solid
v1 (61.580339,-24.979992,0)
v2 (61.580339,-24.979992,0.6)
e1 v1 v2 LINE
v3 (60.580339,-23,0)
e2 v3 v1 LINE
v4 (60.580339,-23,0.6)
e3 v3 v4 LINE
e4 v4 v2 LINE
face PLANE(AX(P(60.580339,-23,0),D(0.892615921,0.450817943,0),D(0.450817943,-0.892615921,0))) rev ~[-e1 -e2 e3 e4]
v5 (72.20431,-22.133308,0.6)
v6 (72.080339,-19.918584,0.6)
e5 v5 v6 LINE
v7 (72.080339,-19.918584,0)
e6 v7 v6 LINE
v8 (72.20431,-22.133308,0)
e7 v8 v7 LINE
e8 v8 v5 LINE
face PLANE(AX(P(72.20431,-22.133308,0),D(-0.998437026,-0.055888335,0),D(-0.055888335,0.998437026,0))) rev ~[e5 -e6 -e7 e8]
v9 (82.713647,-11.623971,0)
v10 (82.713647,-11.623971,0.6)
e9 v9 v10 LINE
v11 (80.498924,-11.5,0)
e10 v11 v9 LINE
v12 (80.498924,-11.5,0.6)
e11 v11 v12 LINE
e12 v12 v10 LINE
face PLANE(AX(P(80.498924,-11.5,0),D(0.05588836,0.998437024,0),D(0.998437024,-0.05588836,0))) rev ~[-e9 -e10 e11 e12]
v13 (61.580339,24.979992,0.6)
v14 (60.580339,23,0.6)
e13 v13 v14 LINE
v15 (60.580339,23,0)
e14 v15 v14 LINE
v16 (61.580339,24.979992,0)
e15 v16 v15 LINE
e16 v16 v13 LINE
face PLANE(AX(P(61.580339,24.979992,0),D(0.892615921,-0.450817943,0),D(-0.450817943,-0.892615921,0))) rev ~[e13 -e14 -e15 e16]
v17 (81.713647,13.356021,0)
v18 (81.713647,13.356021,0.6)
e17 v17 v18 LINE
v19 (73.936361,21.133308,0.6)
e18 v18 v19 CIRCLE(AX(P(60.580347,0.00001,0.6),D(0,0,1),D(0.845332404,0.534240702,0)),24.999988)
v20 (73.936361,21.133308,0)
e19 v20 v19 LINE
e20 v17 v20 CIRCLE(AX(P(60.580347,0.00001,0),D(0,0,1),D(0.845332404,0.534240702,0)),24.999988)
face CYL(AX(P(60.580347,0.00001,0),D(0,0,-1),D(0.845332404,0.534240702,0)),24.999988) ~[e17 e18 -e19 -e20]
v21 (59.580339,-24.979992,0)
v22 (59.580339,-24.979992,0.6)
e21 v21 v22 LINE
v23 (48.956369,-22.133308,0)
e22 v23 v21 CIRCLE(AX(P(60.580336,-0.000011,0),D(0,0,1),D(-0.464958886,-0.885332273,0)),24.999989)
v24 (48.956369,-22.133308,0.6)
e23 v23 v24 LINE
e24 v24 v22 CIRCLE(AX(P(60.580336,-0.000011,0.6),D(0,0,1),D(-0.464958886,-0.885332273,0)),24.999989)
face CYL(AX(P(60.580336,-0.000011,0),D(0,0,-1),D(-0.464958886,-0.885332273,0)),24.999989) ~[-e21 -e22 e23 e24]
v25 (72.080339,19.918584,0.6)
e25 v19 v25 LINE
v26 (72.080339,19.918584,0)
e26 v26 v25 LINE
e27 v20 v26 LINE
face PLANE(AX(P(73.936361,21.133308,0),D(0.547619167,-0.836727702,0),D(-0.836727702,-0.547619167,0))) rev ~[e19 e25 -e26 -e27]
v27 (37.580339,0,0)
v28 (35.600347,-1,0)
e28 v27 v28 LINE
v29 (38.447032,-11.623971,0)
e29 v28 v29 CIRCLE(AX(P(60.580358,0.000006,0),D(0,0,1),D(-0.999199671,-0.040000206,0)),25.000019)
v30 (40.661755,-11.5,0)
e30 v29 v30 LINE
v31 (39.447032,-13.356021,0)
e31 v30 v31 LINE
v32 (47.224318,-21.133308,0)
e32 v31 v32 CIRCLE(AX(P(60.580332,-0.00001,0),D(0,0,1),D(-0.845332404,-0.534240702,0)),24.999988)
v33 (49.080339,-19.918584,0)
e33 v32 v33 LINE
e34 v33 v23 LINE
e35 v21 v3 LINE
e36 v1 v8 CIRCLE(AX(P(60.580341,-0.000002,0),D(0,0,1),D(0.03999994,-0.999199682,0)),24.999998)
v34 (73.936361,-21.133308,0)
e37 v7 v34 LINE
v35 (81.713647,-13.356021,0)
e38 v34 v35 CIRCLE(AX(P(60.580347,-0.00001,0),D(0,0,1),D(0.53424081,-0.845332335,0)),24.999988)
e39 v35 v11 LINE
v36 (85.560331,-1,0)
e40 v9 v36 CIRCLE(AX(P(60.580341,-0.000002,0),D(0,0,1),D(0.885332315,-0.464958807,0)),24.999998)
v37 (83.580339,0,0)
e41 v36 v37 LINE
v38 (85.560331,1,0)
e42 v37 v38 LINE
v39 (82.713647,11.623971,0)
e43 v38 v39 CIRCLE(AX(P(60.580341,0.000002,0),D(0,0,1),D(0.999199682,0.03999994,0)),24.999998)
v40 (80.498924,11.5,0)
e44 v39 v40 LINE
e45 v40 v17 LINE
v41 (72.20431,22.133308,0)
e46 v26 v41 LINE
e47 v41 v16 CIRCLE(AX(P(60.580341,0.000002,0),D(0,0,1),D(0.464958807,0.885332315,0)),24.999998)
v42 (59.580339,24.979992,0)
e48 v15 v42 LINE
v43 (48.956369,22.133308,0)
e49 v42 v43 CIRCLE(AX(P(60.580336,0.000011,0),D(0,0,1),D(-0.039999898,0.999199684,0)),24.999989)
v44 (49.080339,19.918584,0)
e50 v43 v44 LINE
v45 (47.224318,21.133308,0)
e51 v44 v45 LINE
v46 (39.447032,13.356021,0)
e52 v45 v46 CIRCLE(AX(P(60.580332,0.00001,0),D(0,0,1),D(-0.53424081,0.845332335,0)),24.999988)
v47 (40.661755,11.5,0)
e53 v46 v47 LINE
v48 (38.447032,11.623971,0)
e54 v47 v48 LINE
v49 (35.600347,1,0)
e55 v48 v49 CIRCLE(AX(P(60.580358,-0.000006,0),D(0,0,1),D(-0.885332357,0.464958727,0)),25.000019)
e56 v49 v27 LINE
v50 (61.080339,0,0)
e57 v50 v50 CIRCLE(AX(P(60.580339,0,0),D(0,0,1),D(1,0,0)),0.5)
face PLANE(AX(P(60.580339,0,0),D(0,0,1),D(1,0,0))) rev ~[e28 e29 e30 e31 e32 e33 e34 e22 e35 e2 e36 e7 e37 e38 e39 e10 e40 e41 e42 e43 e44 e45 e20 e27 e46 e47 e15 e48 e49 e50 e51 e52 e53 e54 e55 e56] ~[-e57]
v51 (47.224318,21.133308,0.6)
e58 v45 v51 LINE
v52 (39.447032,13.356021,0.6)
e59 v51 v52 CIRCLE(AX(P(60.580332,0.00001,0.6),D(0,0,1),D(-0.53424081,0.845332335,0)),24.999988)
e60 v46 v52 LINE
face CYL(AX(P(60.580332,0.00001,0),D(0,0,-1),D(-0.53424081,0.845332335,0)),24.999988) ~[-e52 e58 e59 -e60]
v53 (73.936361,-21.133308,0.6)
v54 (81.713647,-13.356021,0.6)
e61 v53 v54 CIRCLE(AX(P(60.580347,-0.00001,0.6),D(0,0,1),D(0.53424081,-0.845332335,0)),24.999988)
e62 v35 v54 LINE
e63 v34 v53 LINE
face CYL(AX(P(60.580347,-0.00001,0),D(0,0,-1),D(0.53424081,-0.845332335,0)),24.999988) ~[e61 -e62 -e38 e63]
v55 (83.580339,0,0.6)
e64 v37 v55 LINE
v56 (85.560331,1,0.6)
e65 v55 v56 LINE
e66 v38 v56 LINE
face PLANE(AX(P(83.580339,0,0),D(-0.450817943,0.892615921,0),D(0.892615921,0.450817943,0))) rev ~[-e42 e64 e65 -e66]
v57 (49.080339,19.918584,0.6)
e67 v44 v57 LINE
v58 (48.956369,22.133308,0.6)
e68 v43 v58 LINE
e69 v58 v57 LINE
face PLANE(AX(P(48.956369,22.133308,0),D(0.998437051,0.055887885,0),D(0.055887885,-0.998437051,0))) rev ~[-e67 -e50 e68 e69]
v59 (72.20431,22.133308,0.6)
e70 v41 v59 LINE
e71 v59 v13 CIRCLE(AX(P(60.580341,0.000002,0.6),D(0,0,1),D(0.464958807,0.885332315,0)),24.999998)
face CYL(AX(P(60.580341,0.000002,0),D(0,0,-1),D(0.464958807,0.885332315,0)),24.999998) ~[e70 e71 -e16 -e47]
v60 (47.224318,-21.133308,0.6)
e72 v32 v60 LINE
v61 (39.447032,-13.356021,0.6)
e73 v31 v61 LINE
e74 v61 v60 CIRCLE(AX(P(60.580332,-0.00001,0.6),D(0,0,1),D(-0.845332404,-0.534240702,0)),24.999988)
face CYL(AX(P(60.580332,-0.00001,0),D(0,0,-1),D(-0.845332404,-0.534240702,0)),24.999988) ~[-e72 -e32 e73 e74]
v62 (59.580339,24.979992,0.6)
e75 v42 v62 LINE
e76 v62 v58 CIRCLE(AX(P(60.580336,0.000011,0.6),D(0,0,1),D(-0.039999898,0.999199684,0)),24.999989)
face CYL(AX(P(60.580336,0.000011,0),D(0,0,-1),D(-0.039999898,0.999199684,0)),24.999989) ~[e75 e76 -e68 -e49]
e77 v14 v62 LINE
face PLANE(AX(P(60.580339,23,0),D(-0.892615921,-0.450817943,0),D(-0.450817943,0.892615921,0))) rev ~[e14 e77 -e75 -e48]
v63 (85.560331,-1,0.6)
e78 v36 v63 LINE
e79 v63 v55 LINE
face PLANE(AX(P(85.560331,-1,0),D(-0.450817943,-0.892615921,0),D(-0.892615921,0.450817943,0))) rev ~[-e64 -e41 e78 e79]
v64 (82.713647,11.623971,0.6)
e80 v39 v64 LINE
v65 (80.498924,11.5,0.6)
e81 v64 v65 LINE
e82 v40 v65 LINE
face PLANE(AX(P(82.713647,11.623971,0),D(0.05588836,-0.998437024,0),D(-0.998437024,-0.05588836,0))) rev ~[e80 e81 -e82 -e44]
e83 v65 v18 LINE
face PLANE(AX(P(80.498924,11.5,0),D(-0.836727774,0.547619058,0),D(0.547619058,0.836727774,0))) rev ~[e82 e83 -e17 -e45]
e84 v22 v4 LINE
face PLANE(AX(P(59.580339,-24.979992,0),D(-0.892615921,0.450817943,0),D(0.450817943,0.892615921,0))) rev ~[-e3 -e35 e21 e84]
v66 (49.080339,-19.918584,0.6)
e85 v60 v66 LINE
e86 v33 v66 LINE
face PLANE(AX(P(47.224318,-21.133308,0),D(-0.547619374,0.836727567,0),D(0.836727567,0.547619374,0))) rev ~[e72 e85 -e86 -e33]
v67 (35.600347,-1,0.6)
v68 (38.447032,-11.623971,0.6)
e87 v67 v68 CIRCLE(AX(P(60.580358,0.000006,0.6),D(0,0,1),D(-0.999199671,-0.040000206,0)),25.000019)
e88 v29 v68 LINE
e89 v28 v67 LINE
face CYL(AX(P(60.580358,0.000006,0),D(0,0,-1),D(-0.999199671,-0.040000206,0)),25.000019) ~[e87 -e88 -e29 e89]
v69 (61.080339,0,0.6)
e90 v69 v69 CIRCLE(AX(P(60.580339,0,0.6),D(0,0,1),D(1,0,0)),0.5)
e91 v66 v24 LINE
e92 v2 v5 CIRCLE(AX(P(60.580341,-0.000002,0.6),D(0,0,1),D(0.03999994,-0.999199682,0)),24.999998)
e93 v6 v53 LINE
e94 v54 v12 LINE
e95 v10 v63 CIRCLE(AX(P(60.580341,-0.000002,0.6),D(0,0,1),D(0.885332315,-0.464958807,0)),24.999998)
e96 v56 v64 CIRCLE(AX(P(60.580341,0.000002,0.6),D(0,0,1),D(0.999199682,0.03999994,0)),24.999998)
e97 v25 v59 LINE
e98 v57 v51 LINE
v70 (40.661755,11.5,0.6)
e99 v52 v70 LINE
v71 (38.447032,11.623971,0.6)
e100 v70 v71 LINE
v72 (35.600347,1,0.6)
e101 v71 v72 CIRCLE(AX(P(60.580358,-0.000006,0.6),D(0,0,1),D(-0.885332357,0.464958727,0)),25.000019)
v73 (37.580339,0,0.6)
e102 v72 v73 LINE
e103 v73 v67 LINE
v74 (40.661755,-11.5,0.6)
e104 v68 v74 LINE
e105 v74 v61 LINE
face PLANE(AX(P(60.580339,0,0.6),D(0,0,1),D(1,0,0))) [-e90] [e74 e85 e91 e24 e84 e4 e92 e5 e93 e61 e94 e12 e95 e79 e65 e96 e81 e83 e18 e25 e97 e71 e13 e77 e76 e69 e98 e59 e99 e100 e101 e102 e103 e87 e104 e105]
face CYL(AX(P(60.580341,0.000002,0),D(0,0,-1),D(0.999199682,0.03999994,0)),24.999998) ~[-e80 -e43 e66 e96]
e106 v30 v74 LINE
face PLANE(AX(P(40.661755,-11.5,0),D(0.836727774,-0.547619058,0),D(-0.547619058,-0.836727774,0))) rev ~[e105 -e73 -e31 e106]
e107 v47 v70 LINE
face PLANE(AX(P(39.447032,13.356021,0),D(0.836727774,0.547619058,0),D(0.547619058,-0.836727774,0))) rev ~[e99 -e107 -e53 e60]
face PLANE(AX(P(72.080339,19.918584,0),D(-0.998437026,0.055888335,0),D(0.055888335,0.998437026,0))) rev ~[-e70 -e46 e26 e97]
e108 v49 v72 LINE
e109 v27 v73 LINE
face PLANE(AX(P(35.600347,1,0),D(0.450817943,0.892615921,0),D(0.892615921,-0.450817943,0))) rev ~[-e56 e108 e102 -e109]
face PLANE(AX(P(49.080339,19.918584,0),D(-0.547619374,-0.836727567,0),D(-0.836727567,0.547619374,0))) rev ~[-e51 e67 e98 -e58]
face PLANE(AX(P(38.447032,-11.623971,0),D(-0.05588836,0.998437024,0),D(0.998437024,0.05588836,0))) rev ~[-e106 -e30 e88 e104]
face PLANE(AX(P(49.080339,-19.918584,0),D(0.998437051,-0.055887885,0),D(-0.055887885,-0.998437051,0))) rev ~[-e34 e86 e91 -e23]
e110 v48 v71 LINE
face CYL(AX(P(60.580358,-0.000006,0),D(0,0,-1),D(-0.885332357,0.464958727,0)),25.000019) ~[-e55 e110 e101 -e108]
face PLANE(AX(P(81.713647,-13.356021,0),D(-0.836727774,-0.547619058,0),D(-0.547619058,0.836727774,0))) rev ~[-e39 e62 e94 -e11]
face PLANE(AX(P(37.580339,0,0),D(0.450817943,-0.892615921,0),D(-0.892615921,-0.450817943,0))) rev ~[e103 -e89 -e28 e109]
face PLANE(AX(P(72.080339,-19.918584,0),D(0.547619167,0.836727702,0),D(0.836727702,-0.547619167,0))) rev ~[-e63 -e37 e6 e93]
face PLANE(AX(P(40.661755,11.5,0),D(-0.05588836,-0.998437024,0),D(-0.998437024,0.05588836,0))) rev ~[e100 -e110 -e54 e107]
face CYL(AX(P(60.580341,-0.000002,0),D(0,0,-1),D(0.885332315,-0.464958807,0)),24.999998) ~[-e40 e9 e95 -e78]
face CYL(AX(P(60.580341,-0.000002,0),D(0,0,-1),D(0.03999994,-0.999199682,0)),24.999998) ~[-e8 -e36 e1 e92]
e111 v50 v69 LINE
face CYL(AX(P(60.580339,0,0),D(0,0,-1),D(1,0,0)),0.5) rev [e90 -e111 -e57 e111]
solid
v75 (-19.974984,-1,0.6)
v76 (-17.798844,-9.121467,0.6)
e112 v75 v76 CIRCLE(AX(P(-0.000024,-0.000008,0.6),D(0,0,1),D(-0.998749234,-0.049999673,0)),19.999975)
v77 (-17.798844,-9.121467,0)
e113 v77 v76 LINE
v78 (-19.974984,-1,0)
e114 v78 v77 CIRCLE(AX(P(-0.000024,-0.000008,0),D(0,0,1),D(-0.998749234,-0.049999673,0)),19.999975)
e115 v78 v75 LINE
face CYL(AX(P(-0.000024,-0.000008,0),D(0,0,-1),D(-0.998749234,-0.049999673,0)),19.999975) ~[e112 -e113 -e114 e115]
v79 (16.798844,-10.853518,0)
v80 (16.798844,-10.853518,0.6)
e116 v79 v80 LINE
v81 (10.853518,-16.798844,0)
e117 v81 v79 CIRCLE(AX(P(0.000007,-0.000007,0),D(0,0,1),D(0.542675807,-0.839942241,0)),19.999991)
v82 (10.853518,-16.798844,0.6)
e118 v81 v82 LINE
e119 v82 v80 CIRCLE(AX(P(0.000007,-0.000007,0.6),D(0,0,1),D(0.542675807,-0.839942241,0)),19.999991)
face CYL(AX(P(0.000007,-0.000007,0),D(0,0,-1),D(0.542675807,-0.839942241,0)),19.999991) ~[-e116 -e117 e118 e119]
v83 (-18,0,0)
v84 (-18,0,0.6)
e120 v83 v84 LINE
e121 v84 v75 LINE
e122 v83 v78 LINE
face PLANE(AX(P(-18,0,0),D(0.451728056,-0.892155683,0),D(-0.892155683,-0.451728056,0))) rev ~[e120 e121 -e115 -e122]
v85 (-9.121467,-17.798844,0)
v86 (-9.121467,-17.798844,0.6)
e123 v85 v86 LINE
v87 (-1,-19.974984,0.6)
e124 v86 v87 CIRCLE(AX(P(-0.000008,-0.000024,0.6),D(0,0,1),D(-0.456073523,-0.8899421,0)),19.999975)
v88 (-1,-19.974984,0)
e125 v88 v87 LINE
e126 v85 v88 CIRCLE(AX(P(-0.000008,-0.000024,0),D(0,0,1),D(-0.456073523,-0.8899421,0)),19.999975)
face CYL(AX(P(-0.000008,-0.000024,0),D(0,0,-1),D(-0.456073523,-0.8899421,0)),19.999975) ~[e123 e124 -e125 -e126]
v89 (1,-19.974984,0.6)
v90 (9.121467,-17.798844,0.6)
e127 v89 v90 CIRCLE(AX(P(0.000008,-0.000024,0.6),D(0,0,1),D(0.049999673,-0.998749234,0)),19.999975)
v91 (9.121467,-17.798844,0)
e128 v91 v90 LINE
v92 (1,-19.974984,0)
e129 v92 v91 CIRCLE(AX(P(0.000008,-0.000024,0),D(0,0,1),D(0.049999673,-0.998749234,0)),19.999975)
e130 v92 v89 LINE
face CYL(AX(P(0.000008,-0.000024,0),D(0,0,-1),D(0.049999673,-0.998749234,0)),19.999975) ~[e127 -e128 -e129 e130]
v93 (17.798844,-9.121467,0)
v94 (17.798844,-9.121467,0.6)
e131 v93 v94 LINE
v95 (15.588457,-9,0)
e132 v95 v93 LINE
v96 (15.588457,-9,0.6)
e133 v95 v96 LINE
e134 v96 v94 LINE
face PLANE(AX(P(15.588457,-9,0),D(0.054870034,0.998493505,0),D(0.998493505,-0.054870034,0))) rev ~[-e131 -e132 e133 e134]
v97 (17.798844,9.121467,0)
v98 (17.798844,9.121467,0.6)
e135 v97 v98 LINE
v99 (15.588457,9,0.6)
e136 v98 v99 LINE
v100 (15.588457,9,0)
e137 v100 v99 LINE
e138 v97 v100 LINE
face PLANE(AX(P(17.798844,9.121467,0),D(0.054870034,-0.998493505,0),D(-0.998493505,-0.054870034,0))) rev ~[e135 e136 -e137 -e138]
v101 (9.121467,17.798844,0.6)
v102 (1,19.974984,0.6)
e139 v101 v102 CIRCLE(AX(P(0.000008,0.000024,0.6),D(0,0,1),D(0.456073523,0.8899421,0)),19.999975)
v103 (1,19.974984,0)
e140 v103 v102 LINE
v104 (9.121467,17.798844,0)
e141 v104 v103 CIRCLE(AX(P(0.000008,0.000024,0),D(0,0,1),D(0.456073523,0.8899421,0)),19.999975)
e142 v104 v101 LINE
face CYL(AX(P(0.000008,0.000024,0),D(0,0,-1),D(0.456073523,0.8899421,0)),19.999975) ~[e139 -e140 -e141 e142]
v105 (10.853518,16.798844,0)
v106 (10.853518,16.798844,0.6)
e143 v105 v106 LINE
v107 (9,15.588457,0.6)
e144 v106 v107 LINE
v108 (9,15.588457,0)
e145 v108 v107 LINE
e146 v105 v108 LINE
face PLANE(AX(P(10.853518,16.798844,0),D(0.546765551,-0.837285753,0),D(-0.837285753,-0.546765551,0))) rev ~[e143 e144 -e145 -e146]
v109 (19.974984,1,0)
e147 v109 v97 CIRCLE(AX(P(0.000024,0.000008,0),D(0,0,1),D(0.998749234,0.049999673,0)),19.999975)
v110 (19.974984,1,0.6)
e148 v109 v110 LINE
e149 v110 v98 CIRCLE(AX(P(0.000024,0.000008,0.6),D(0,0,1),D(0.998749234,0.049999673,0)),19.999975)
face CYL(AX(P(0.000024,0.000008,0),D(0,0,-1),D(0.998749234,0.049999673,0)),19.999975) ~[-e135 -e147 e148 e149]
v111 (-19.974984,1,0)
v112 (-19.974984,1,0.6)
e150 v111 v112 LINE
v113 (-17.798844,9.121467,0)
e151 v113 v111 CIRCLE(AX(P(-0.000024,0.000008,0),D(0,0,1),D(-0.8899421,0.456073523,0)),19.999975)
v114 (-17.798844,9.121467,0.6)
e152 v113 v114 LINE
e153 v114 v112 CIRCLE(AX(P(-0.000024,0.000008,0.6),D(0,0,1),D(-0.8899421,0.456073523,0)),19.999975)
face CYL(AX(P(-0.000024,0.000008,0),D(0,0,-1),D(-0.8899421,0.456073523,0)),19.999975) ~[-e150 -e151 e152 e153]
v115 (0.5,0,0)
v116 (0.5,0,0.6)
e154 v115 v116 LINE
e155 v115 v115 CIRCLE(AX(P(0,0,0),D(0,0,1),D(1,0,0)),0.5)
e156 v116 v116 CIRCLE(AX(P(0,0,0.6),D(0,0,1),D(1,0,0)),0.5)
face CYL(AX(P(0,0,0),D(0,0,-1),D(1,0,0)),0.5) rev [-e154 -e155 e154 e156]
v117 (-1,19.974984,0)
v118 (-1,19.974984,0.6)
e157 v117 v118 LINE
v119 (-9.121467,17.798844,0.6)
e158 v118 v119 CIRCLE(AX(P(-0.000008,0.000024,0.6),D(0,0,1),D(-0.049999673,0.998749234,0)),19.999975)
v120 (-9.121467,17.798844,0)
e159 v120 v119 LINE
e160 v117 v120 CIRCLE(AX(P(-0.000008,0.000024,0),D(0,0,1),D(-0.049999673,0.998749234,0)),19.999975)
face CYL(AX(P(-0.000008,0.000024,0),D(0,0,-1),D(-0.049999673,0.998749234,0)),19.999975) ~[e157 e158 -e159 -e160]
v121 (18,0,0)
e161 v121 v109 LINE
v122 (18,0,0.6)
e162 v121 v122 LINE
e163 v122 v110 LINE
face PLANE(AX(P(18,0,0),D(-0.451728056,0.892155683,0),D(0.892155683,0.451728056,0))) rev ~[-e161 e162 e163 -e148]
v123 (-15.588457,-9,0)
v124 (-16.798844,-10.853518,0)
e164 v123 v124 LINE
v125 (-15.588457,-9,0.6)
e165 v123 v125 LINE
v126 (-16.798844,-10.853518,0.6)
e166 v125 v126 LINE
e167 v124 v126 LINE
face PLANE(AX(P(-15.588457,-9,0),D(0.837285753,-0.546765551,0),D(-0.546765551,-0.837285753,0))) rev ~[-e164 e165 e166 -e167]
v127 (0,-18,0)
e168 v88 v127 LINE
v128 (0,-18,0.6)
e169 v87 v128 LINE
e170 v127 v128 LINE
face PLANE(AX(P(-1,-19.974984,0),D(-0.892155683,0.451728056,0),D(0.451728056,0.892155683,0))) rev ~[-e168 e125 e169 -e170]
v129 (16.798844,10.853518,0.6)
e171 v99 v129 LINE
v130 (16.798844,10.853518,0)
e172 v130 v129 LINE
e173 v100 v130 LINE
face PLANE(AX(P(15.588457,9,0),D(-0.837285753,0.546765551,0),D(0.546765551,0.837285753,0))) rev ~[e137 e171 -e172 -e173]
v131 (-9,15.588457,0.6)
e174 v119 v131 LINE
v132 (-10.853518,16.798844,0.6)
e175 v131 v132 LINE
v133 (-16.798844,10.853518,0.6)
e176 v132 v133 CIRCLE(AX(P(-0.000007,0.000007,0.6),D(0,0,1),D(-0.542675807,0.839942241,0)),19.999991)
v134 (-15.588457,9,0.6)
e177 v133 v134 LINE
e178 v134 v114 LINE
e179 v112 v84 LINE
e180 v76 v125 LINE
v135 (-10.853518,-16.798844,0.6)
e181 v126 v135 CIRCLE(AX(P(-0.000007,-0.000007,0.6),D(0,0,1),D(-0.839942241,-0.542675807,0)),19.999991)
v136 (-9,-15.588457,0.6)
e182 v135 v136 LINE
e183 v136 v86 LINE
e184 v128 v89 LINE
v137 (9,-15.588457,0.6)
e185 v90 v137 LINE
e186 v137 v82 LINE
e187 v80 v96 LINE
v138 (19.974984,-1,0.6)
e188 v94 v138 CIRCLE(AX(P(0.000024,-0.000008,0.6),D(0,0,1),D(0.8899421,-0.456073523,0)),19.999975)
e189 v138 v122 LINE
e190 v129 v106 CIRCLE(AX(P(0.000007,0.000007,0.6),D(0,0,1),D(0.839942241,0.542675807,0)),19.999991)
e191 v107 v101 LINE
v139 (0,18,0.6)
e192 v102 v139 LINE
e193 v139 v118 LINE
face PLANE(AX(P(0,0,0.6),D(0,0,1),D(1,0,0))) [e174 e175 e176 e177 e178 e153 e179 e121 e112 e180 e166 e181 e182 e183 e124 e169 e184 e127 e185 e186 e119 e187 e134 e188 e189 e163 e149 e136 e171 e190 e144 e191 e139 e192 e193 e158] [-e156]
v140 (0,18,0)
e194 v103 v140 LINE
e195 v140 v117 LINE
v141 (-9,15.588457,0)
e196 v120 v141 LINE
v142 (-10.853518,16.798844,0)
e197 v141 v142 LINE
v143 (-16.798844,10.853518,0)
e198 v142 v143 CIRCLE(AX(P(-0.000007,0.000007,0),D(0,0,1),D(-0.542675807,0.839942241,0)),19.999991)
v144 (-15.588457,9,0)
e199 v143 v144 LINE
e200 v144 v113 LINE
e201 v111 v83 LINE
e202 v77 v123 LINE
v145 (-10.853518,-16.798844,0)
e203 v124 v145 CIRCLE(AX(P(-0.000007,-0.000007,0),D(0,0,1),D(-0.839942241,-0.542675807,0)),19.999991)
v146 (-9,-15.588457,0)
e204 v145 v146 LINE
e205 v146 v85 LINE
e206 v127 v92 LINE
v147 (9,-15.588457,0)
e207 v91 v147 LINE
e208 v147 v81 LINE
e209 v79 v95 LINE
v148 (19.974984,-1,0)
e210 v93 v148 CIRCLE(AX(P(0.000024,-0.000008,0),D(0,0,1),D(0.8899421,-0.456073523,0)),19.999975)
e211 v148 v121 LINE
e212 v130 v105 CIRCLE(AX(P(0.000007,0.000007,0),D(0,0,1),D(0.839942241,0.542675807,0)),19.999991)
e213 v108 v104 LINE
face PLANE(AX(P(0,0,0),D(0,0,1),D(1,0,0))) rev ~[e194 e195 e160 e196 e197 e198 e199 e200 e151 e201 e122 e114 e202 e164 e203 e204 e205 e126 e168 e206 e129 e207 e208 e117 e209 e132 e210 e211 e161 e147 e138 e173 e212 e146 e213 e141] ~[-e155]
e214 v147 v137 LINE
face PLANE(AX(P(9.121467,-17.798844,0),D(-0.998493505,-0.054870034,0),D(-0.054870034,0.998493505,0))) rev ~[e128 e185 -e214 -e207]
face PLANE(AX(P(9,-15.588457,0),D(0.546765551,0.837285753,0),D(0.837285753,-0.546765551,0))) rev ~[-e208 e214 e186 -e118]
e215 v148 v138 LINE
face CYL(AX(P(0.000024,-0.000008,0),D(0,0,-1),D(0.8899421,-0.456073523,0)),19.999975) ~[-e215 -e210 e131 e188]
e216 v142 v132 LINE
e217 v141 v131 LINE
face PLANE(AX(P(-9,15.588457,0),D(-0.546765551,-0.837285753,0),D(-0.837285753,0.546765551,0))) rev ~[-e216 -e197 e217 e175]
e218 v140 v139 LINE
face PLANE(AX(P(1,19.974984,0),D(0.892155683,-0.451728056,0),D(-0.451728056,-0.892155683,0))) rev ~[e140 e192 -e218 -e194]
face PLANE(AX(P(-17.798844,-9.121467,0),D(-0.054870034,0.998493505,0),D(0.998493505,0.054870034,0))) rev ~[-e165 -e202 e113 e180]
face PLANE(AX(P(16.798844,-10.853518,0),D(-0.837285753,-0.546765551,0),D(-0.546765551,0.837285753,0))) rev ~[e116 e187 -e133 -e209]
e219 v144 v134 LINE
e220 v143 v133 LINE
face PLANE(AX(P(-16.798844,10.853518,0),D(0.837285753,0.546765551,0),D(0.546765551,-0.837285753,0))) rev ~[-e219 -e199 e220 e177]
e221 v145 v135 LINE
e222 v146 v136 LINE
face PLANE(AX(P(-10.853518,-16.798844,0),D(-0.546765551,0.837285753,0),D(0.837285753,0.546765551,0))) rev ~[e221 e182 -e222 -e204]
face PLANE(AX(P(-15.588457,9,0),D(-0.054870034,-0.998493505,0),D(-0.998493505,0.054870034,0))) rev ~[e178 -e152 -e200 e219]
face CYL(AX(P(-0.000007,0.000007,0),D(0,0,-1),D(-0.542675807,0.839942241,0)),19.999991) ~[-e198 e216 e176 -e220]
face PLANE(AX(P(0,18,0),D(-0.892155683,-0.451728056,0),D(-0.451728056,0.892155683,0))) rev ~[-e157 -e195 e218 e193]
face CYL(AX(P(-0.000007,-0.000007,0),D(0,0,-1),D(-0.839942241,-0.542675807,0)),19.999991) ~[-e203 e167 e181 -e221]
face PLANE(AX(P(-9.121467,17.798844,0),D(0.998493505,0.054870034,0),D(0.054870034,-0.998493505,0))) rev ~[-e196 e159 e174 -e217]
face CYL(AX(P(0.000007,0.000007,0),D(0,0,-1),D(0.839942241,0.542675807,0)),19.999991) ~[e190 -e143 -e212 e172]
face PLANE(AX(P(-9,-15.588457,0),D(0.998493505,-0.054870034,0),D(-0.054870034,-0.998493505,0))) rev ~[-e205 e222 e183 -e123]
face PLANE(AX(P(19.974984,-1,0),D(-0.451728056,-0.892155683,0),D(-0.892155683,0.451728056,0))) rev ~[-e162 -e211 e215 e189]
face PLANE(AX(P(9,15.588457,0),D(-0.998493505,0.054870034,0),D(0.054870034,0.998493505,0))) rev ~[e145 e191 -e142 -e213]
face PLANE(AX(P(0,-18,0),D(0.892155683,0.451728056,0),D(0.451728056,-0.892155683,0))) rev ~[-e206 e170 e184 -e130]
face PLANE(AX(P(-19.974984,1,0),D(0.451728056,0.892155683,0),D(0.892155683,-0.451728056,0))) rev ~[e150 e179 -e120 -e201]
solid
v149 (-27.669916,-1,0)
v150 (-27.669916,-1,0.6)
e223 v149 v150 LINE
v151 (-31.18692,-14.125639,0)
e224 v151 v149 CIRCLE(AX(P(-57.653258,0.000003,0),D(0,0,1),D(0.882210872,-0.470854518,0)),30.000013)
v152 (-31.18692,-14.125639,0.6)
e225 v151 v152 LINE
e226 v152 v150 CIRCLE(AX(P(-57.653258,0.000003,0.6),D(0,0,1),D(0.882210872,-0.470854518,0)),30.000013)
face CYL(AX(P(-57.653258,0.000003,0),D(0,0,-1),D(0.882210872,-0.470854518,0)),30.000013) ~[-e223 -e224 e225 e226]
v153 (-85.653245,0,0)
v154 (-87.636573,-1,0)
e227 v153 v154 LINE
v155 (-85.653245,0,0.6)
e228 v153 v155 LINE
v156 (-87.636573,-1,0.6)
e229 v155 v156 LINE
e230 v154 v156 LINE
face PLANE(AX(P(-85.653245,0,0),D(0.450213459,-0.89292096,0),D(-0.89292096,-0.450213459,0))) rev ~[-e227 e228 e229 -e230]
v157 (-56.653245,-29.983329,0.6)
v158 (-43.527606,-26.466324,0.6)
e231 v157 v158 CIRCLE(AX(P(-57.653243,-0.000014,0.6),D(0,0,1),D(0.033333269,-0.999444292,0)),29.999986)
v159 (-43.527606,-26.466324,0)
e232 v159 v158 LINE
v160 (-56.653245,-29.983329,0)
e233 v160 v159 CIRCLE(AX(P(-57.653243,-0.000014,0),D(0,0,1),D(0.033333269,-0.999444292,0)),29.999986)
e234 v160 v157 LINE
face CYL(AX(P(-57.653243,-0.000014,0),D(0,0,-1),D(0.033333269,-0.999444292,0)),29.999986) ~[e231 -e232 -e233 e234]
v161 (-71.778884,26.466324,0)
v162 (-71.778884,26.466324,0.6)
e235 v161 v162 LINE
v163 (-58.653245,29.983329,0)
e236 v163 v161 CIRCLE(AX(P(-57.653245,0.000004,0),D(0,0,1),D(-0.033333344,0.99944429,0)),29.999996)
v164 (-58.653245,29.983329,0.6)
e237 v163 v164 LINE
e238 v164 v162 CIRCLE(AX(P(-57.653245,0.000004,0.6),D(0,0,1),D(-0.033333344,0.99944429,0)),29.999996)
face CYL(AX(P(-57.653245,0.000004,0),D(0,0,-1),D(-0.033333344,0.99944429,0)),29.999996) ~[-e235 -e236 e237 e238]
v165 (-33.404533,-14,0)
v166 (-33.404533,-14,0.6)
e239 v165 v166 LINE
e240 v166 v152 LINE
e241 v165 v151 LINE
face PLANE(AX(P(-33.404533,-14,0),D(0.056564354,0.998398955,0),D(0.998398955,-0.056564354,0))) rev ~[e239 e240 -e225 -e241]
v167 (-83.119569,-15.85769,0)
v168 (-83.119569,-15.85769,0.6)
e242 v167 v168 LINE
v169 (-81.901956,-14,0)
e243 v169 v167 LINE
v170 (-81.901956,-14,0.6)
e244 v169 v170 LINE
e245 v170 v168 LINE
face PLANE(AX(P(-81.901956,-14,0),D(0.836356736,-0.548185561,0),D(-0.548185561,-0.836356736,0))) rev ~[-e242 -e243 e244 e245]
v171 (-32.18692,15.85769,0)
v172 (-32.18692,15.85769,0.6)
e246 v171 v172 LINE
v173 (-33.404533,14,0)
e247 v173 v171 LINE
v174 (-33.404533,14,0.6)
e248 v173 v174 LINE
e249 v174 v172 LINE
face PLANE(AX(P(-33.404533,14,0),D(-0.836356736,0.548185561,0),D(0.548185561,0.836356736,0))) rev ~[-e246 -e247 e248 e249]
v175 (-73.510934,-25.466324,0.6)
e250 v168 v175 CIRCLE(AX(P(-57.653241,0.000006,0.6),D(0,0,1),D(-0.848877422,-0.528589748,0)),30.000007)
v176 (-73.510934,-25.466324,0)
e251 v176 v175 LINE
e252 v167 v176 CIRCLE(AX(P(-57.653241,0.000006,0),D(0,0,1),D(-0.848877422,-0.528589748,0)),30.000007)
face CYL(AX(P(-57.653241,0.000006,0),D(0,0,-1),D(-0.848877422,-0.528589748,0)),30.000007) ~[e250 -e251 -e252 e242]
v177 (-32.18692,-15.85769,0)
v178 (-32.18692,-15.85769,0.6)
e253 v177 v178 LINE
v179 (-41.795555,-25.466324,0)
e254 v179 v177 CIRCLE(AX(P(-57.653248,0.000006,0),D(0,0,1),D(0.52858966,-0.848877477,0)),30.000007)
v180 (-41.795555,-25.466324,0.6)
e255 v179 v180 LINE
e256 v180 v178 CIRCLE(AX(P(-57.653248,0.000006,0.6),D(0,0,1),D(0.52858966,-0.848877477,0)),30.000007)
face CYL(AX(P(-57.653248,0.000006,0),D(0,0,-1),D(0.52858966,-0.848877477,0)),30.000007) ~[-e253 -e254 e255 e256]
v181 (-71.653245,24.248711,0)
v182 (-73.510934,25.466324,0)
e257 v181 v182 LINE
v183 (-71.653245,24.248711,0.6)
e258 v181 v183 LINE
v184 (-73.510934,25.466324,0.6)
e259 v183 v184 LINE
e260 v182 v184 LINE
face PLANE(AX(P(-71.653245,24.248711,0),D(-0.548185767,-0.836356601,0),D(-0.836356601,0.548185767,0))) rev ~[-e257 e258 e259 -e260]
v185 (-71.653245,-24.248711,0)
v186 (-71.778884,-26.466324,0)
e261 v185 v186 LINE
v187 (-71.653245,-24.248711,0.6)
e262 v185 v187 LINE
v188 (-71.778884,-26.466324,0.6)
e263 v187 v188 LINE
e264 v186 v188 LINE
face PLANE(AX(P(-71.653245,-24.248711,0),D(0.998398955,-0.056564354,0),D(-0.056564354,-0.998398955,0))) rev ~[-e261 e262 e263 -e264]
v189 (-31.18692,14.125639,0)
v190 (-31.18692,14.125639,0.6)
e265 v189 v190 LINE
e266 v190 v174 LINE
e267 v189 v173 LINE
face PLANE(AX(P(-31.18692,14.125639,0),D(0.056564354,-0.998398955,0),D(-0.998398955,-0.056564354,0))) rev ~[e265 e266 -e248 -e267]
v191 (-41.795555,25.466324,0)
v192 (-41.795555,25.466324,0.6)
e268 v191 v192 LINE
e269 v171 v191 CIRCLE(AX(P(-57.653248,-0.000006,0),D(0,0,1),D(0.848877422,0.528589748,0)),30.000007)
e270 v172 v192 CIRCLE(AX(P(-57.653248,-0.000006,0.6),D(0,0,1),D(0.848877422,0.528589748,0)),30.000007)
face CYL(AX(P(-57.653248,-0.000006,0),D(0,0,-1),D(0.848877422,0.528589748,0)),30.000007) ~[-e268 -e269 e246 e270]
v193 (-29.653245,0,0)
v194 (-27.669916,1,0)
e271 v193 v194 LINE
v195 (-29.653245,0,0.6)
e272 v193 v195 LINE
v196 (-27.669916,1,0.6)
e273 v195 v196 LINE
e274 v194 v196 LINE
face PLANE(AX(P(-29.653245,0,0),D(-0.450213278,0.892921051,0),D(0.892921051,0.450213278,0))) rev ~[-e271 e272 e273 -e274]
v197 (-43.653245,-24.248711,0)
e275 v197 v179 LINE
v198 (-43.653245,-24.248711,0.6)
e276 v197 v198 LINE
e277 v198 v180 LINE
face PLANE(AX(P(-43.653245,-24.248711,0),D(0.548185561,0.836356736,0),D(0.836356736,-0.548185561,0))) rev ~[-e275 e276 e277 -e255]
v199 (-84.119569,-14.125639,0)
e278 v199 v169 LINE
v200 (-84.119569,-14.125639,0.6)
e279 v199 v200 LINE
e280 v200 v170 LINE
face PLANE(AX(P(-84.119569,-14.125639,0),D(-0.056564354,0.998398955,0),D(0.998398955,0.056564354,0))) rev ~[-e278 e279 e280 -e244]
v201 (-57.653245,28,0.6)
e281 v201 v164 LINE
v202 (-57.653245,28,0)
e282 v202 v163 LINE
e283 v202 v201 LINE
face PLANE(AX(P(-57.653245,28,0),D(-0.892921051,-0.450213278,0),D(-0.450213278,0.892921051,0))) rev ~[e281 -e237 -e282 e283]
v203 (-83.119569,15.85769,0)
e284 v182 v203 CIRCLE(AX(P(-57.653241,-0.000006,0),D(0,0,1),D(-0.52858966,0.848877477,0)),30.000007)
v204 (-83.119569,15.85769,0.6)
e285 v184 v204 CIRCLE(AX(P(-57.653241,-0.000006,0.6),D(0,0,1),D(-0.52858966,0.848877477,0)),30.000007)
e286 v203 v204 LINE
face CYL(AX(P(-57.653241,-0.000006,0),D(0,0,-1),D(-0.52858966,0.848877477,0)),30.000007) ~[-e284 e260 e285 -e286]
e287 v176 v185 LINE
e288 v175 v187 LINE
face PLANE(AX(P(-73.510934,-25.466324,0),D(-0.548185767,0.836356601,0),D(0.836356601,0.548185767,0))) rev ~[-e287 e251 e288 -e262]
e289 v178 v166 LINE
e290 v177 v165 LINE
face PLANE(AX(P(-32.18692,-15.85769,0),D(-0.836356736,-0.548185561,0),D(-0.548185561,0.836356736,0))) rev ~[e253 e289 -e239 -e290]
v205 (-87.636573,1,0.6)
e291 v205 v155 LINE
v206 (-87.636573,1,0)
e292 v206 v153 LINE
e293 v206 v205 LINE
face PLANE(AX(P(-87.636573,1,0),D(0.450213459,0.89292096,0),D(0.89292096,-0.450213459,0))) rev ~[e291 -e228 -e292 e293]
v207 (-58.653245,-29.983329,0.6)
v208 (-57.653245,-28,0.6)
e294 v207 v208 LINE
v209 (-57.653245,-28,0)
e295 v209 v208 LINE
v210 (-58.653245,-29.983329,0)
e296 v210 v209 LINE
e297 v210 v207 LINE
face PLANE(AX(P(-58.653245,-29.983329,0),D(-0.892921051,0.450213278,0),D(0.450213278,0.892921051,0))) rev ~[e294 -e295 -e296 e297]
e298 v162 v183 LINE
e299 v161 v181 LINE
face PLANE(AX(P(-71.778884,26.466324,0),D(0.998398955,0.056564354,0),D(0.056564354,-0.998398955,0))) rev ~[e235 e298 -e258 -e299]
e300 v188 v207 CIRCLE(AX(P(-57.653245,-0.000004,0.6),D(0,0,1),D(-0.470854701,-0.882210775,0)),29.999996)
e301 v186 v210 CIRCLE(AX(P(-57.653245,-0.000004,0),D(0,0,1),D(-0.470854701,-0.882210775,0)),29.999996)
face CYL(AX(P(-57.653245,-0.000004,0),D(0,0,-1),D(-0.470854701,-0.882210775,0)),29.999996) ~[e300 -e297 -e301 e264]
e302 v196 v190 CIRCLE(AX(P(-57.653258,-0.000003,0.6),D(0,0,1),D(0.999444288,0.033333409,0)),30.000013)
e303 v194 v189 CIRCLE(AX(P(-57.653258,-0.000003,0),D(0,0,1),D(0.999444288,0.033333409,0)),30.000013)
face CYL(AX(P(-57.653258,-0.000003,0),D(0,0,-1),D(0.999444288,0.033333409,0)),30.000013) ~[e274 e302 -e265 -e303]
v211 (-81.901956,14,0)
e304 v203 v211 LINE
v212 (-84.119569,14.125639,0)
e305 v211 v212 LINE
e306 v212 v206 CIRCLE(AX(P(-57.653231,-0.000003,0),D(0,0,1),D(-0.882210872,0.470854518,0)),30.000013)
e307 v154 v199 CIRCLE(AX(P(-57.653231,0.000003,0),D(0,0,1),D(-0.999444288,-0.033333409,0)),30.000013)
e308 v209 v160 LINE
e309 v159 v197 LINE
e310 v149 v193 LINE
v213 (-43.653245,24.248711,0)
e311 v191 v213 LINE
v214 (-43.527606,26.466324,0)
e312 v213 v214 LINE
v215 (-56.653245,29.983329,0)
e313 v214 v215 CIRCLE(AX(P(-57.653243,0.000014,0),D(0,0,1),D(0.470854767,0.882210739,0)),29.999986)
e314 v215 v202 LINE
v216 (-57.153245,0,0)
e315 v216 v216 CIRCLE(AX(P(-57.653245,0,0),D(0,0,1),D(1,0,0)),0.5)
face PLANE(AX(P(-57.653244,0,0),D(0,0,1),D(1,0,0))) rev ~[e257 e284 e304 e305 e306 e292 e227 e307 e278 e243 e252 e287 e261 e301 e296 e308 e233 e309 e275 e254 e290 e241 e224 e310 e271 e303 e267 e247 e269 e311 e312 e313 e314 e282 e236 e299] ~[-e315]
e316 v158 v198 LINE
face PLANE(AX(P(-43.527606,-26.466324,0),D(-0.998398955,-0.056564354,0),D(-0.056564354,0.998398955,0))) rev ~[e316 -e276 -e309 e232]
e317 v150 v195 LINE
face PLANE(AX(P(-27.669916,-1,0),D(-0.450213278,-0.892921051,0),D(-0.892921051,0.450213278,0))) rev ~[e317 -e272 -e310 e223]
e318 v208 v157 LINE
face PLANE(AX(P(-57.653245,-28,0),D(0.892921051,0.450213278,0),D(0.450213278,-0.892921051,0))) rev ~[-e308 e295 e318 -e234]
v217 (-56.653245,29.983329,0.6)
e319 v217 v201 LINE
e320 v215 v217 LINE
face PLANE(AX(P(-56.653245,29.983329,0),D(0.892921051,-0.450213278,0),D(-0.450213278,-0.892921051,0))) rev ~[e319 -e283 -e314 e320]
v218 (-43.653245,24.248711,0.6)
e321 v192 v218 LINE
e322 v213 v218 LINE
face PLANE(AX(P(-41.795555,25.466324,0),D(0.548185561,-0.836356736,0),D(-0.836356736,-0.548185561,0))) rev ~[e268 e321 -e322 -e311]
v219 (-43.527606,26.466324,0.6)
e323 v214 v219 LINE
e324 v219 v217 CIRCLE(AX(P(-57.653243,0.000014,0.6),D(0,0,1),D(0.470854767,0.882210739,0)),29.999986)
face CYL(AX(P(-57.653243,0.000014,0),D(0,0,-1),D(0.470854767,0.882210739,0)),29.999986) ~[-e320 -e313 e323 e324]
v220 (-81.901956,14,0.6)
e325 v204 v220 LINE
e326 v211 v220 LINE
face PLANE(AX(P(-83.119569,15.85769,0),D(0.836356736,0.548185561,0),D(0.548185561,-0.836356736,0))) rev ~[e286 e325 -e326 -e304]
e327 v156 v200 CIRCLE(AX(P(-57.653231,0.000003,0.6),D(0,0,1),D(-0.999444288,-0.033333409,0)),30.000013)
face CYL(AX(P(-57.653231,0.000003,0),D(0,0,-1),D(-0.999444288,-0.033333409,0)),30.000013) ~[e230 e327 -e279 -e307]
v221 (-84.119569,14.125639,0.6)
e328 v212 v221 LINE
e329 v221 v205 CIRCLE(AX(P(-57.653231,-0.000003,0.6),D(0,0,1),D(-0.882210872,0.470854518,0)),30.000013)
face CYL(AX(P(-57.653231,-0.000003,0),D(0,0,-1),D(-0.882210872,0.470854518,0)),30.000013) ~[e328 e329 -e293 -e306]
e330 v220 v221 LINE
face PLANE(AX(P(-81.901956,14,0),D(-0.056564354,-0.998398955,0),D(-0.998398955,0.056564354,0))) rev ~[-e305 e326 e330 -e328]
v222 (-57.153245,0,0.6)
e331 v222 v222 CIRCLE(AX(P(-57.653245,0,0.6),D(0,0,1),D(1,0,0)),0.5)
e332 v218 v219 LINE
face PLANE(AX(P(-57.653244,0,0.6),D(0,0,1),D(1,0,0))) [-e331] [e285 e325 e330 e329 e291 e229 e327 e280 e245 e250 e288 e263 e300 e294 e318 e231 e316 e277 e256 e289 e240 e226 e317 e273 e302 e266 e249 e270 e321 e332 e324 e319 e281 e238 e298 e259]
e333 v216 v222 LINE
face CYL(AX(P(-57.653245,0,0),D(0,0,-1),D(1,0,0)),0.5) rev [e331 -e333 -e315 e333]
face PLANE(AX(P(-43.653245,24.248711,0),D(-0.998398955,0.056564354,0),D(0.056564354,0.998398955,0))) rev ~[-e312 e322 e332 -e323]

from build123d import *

# Parameters (mm, degrees)
F0_R     = 0.5
F1_DEPTH = 0.6


with BuildPart() as f1:
    # F0 (on Top) → F1 (new body)
    with BuildSketch(Plane.XY):
        with BuildLine():
            Line((72.080339, 19.918584), (72.20431, 22.133308))
            ThreePointArc((72.20431, 22.133308), (67.050815, 24.148146), (61.580339, 24.979992))
            Line((61.580339, 24.979992), (60.580339, 23))
            Line((60.580339, 23), (59.580339, 24.979992))
            ThreePointArc((59.580339, 24.979992), (54.109863, 24.148146), (48.956369, 22.133308))
            Line((48.956369, 22.133308), (49.080339, 19.918584))
            Line((49.080339, 19.918584), (47.224318, 21.133308))
            ThreePointArc((47.224318, 21.133308), (42.90267, 17.67767), (39.447032, 13.356021))
            Line((39.447032, 13.356021), (40.661755, 11.5))
            Line((40.661755, 11.5), (38.447032, 11.623971))
            ThreePointArc((38.447032, 11.623971), (36.432194, 6.470476), (35.600347, 1))
            Line((35.600347, 1), (37.580339, 0))
            Line((37.580339, 0), (35.600347, -1))
            ThreePointArc((35.600347, -1), (36.432194, -6.470476), (38.447032, -11.623971))
            Line((38.447032, -11.623971), (40.661755, -11.5))
            Line((40.661755, -11.5), (39.447032, -13.356021))
            ThreePointArc((39.447032, -13.356021), (42.90267, -17.67767), (47.224318, -21.133308))
            Line((47.224318, -21.133308), (49.080339, -19.918584))
            Line((49.080339, -19.918584), (48.956369, -22.133308))
            ThreePointArc((48.956369, -22.133308), (54.109863, -24.148146), (59.580339, -24.979992))
            Line((59.580339, -24.979992), (60.580339, -23))
            Line((60.580339, -23), (61.580339, -24.979992))
            ThreePointArc((61.580339, -24.979992), (67.050815, -24.148146), (72.20431, -22.133308))
            Line((72.20431, -22.133308), (72.080339, -19.918584))
            Line((72.080339, -19.918584), (73.936361, -21.133308))
            ThreePointArc((73.936361, -21.133308), (78.258009, -17.67767), (81.713647, -13.356021))
            Line((81.713647, -13.356021), (80.498924, -11.5))
            Line((80.498924, -11.5), (82.713647, -11.623971))
            ThreePointArc((82.713647, -11.623971), (84.728485, -6.470476), (85.560331, -1))
            Line((85.560331, -1), (83.580339, 0))
            Line((83.580339, 0), (85.560331, 1))
            ThreePointArc((85.560331, 1), (84.728485, 6.470476), (82.713647, 11.623971))
            Line((82.713647, 11.623971), (80.498924, 11.5))
            Line((80.498924, 11.5), (81.713647, 13.356021))
            ThreePointArc((81.713647, 13.356021), (78.258009, 17.67767), (73.936361, 21.133308))
            Line((73.936361, 21.133308), (72.080339, 19.918584))
        make_face()
        with Locations((60.580339, 0)):
            Circle(F0_R, mode=Mode.SUBTRACT)
        with BuildLine():
            Line((9, 15.588457), (9.121467, 17.798844))
            ThreePointArc((9.121467, 17.798844), (5.176381, 19.318517), (1, 19.974984))
            Line((1, 19.974984), (0, 18))
            Line((0, 18), (-1, 19.974984))
            ThreePointArc((-1, 19.974984), (-5.176381, 19.318517), (-9.121467, 17.798844))
            Line((-9.121467, 17.798844), (-9, 15.588457))
            Line((-9, 15.588457), (-10.853518, 16.798844))
            ThreePointArc((-10.853518, 16.798844), (-14.142136, 14.142136), (-16.798844, 10.853518))
            Line((-16.798844, 10.853518), (-15.588457, 9))
            Line((-15.588457, 9), (-17.798844, 9.121467))
            ThreePointArc((-17.798844, 9.121467), (-19.318517, 5.176381), (-19.974984, 1))
            Line((-19.974984, 1), (-18, 0))
            Line((-18, 0), (-19.974984, -1))
            ThreePointArc((-19.974984, -1), (-19.318517, -5.176381), (-17.798844, -9.121467))
            Line((-17.798844, -9.121467), (-15.588457, -9))
            Line((-15.588457, -9), (-16.798844, -10.853518))
            ThreePointArc((-16.798844, -10.853518), (-14.142136, -14.142136), (-10.853518, -16.798844))
            Line((-10.853518, -16.798844), (-9, -15.588457))
            Line((-9, -15.588457), (-9.121467, -17.798844))
            ThreePointArc((-9.121467, -17.798844), (-5.176381, -19.318517), (-1, -19.974984))
            Line((-1, -19.974984), (0, -18))
            Line((0, -18), (1, -19.974984))
            ThreePointArc((1, -19.974984), (5.176381, -19.318517), (9.121467, -17.798844))
            Line((9.121467, -17.798844), (9, -15.588457))
            Line((9, -15.588457), (10.853518, -16.798844))
            ThreePointArc((10.853518, -16.798844), (14.142136, -14.142136), (16.798844, -10.853518))
            Line((16.798844, -10.853518), (15.588457, -9))
            Line((15.588457, -9), (17.798844, -9.121467))
            ThreePointArc((17.798844, -9.121467), (19.318517, -5.176381), (19.974984, -1))
            Line((19.974984, -1), (18, 0))
            Line((18, 0), (19.974984, 1))
            ThreePointArc((19.974984, 1), (19.318517, 5.176381), (17.798844, 9.121467))
            Line((17.798844, 9.121467), (15.588457, 9))
            Line((15.588457, 9), (16.798844, 10.853518))
            ThreePointArc((16.798844, 10.853518), (14.142136, 14.142136), (10.853518, 16.798844))
            Line((10.853518, 16.798844), (9, 15.588457))
        make_face()
        Circle(F0_R, mode=Mode.SUBTRACT)
        with BuildLine():
            Line((-43.653245, 24.248711), (-43.527606, 26.466324))
            ThreePointArc((-43.527606, 26.466324), (-49.888673, 28.977775), (-56.653245, 29.983329))
            Line((-56.653245, 29.983329), (-57.653245, 28))
            Line((-57.653245, 28), (-58.653245, 29.983329))
            ThreePointArc((-58.653245, 29.983329), (-65.417816, 28.977775), (-71.778884, 26.466324))
            Line((-71.778884, 26.466324), (-71.653245, 24.248711))
            Line((-71.653245, 24.248711), (-73.510934, 25.466324))
            ThreePointArc((-73.510934, 25.466324), (-78.866448, 21.213203), (-83.119569, 15.85769))
            Line((-83.119569, 15.85769), (-81.901956, 14))
            Line((-81.901956, 14), (-84.119569, 14.125639))
            ThreePointArc((-84.119569, 14.125639), (-86.631019, 7.764571), (-87.636573, 1))
            Line((-87.636573, 1), (-85.653245, 0))
            Line((-85.653245, 0), (-87.636573, -1))
            ThreePointArc((-87.636573, -1), (-86.631019, -7.764571), (-84.119569, -14.125639))
            Line((-84.119569, -14.125639), (-81.901956, -14))
            Line((-81.901956, -14), (-83.119569, -15.85769))
            ThreePointArc((-83.119569, -15.85769), (-78.866448, -21.213203), (-73.510934, -25.466324))
            Line((-73.510934, -25.466324), (-71.653245, -24.248711))
            Line((-71.653245, -24.248711), (-71.778884, -26.466324))
            ThreePointArc((-71.778884, -26.466324), (-65.417816, -28.977775), (-58.653245, -29.983329))
            Line((-58.653245, -29.983329), (-57.653245, -28))
            Line((-57.653245, -28), (-56.653245, -29.983329))
            ThreePointArc((-56.653245, -29.983329), (-49.888673, -28.977775), (-43.527606, -26.466324))
            Line((-43.527606, -26.466324), (-43.653245, -24.248711))
            Line((-43.653245, -24.248711), (-41.795555, -25.466324))
            ThreePointArc((-41.795555, -25.466324), (-36.440041, -21.213203), (-32.18692, -15.85769))
            Line((-32.18692, -15.85769), (-33.404533, -14))
            Line((-33.404533, -14), (-31.18692, -14.125639))
            ThreePointArc((-31.18692, -14.125639), (-28.67547, -7.764571), (-27.669916, -1))
            Line((-27.669916, -1), (-29.653245, 0))
            Line((-29.653245, 0), (-27.669916, 1))
            ThreePointArc((-27.669916, 1), (-28.67547, 7.764571), (-31.18692, 14.125639))
            Line((-31.18692, 14.125639), (-33.404533, 14))
            Line((-33.404533, 14), (-32.18692, 15.85769))
            ThreePointArc((-32.18692, 15.85769), (-36.440041, 21.213203), (-41.795555, 25.466324))
            Line((-41.795555, 25.466324), (-43.653245, 24.248711))
        make_face()
        with Locations((-57.653245, 0)):
            Circle(F0_R, mode=Mode.SUBTRACT)
    extrude(amount=F1_DEPTH)


solid = f1.part
